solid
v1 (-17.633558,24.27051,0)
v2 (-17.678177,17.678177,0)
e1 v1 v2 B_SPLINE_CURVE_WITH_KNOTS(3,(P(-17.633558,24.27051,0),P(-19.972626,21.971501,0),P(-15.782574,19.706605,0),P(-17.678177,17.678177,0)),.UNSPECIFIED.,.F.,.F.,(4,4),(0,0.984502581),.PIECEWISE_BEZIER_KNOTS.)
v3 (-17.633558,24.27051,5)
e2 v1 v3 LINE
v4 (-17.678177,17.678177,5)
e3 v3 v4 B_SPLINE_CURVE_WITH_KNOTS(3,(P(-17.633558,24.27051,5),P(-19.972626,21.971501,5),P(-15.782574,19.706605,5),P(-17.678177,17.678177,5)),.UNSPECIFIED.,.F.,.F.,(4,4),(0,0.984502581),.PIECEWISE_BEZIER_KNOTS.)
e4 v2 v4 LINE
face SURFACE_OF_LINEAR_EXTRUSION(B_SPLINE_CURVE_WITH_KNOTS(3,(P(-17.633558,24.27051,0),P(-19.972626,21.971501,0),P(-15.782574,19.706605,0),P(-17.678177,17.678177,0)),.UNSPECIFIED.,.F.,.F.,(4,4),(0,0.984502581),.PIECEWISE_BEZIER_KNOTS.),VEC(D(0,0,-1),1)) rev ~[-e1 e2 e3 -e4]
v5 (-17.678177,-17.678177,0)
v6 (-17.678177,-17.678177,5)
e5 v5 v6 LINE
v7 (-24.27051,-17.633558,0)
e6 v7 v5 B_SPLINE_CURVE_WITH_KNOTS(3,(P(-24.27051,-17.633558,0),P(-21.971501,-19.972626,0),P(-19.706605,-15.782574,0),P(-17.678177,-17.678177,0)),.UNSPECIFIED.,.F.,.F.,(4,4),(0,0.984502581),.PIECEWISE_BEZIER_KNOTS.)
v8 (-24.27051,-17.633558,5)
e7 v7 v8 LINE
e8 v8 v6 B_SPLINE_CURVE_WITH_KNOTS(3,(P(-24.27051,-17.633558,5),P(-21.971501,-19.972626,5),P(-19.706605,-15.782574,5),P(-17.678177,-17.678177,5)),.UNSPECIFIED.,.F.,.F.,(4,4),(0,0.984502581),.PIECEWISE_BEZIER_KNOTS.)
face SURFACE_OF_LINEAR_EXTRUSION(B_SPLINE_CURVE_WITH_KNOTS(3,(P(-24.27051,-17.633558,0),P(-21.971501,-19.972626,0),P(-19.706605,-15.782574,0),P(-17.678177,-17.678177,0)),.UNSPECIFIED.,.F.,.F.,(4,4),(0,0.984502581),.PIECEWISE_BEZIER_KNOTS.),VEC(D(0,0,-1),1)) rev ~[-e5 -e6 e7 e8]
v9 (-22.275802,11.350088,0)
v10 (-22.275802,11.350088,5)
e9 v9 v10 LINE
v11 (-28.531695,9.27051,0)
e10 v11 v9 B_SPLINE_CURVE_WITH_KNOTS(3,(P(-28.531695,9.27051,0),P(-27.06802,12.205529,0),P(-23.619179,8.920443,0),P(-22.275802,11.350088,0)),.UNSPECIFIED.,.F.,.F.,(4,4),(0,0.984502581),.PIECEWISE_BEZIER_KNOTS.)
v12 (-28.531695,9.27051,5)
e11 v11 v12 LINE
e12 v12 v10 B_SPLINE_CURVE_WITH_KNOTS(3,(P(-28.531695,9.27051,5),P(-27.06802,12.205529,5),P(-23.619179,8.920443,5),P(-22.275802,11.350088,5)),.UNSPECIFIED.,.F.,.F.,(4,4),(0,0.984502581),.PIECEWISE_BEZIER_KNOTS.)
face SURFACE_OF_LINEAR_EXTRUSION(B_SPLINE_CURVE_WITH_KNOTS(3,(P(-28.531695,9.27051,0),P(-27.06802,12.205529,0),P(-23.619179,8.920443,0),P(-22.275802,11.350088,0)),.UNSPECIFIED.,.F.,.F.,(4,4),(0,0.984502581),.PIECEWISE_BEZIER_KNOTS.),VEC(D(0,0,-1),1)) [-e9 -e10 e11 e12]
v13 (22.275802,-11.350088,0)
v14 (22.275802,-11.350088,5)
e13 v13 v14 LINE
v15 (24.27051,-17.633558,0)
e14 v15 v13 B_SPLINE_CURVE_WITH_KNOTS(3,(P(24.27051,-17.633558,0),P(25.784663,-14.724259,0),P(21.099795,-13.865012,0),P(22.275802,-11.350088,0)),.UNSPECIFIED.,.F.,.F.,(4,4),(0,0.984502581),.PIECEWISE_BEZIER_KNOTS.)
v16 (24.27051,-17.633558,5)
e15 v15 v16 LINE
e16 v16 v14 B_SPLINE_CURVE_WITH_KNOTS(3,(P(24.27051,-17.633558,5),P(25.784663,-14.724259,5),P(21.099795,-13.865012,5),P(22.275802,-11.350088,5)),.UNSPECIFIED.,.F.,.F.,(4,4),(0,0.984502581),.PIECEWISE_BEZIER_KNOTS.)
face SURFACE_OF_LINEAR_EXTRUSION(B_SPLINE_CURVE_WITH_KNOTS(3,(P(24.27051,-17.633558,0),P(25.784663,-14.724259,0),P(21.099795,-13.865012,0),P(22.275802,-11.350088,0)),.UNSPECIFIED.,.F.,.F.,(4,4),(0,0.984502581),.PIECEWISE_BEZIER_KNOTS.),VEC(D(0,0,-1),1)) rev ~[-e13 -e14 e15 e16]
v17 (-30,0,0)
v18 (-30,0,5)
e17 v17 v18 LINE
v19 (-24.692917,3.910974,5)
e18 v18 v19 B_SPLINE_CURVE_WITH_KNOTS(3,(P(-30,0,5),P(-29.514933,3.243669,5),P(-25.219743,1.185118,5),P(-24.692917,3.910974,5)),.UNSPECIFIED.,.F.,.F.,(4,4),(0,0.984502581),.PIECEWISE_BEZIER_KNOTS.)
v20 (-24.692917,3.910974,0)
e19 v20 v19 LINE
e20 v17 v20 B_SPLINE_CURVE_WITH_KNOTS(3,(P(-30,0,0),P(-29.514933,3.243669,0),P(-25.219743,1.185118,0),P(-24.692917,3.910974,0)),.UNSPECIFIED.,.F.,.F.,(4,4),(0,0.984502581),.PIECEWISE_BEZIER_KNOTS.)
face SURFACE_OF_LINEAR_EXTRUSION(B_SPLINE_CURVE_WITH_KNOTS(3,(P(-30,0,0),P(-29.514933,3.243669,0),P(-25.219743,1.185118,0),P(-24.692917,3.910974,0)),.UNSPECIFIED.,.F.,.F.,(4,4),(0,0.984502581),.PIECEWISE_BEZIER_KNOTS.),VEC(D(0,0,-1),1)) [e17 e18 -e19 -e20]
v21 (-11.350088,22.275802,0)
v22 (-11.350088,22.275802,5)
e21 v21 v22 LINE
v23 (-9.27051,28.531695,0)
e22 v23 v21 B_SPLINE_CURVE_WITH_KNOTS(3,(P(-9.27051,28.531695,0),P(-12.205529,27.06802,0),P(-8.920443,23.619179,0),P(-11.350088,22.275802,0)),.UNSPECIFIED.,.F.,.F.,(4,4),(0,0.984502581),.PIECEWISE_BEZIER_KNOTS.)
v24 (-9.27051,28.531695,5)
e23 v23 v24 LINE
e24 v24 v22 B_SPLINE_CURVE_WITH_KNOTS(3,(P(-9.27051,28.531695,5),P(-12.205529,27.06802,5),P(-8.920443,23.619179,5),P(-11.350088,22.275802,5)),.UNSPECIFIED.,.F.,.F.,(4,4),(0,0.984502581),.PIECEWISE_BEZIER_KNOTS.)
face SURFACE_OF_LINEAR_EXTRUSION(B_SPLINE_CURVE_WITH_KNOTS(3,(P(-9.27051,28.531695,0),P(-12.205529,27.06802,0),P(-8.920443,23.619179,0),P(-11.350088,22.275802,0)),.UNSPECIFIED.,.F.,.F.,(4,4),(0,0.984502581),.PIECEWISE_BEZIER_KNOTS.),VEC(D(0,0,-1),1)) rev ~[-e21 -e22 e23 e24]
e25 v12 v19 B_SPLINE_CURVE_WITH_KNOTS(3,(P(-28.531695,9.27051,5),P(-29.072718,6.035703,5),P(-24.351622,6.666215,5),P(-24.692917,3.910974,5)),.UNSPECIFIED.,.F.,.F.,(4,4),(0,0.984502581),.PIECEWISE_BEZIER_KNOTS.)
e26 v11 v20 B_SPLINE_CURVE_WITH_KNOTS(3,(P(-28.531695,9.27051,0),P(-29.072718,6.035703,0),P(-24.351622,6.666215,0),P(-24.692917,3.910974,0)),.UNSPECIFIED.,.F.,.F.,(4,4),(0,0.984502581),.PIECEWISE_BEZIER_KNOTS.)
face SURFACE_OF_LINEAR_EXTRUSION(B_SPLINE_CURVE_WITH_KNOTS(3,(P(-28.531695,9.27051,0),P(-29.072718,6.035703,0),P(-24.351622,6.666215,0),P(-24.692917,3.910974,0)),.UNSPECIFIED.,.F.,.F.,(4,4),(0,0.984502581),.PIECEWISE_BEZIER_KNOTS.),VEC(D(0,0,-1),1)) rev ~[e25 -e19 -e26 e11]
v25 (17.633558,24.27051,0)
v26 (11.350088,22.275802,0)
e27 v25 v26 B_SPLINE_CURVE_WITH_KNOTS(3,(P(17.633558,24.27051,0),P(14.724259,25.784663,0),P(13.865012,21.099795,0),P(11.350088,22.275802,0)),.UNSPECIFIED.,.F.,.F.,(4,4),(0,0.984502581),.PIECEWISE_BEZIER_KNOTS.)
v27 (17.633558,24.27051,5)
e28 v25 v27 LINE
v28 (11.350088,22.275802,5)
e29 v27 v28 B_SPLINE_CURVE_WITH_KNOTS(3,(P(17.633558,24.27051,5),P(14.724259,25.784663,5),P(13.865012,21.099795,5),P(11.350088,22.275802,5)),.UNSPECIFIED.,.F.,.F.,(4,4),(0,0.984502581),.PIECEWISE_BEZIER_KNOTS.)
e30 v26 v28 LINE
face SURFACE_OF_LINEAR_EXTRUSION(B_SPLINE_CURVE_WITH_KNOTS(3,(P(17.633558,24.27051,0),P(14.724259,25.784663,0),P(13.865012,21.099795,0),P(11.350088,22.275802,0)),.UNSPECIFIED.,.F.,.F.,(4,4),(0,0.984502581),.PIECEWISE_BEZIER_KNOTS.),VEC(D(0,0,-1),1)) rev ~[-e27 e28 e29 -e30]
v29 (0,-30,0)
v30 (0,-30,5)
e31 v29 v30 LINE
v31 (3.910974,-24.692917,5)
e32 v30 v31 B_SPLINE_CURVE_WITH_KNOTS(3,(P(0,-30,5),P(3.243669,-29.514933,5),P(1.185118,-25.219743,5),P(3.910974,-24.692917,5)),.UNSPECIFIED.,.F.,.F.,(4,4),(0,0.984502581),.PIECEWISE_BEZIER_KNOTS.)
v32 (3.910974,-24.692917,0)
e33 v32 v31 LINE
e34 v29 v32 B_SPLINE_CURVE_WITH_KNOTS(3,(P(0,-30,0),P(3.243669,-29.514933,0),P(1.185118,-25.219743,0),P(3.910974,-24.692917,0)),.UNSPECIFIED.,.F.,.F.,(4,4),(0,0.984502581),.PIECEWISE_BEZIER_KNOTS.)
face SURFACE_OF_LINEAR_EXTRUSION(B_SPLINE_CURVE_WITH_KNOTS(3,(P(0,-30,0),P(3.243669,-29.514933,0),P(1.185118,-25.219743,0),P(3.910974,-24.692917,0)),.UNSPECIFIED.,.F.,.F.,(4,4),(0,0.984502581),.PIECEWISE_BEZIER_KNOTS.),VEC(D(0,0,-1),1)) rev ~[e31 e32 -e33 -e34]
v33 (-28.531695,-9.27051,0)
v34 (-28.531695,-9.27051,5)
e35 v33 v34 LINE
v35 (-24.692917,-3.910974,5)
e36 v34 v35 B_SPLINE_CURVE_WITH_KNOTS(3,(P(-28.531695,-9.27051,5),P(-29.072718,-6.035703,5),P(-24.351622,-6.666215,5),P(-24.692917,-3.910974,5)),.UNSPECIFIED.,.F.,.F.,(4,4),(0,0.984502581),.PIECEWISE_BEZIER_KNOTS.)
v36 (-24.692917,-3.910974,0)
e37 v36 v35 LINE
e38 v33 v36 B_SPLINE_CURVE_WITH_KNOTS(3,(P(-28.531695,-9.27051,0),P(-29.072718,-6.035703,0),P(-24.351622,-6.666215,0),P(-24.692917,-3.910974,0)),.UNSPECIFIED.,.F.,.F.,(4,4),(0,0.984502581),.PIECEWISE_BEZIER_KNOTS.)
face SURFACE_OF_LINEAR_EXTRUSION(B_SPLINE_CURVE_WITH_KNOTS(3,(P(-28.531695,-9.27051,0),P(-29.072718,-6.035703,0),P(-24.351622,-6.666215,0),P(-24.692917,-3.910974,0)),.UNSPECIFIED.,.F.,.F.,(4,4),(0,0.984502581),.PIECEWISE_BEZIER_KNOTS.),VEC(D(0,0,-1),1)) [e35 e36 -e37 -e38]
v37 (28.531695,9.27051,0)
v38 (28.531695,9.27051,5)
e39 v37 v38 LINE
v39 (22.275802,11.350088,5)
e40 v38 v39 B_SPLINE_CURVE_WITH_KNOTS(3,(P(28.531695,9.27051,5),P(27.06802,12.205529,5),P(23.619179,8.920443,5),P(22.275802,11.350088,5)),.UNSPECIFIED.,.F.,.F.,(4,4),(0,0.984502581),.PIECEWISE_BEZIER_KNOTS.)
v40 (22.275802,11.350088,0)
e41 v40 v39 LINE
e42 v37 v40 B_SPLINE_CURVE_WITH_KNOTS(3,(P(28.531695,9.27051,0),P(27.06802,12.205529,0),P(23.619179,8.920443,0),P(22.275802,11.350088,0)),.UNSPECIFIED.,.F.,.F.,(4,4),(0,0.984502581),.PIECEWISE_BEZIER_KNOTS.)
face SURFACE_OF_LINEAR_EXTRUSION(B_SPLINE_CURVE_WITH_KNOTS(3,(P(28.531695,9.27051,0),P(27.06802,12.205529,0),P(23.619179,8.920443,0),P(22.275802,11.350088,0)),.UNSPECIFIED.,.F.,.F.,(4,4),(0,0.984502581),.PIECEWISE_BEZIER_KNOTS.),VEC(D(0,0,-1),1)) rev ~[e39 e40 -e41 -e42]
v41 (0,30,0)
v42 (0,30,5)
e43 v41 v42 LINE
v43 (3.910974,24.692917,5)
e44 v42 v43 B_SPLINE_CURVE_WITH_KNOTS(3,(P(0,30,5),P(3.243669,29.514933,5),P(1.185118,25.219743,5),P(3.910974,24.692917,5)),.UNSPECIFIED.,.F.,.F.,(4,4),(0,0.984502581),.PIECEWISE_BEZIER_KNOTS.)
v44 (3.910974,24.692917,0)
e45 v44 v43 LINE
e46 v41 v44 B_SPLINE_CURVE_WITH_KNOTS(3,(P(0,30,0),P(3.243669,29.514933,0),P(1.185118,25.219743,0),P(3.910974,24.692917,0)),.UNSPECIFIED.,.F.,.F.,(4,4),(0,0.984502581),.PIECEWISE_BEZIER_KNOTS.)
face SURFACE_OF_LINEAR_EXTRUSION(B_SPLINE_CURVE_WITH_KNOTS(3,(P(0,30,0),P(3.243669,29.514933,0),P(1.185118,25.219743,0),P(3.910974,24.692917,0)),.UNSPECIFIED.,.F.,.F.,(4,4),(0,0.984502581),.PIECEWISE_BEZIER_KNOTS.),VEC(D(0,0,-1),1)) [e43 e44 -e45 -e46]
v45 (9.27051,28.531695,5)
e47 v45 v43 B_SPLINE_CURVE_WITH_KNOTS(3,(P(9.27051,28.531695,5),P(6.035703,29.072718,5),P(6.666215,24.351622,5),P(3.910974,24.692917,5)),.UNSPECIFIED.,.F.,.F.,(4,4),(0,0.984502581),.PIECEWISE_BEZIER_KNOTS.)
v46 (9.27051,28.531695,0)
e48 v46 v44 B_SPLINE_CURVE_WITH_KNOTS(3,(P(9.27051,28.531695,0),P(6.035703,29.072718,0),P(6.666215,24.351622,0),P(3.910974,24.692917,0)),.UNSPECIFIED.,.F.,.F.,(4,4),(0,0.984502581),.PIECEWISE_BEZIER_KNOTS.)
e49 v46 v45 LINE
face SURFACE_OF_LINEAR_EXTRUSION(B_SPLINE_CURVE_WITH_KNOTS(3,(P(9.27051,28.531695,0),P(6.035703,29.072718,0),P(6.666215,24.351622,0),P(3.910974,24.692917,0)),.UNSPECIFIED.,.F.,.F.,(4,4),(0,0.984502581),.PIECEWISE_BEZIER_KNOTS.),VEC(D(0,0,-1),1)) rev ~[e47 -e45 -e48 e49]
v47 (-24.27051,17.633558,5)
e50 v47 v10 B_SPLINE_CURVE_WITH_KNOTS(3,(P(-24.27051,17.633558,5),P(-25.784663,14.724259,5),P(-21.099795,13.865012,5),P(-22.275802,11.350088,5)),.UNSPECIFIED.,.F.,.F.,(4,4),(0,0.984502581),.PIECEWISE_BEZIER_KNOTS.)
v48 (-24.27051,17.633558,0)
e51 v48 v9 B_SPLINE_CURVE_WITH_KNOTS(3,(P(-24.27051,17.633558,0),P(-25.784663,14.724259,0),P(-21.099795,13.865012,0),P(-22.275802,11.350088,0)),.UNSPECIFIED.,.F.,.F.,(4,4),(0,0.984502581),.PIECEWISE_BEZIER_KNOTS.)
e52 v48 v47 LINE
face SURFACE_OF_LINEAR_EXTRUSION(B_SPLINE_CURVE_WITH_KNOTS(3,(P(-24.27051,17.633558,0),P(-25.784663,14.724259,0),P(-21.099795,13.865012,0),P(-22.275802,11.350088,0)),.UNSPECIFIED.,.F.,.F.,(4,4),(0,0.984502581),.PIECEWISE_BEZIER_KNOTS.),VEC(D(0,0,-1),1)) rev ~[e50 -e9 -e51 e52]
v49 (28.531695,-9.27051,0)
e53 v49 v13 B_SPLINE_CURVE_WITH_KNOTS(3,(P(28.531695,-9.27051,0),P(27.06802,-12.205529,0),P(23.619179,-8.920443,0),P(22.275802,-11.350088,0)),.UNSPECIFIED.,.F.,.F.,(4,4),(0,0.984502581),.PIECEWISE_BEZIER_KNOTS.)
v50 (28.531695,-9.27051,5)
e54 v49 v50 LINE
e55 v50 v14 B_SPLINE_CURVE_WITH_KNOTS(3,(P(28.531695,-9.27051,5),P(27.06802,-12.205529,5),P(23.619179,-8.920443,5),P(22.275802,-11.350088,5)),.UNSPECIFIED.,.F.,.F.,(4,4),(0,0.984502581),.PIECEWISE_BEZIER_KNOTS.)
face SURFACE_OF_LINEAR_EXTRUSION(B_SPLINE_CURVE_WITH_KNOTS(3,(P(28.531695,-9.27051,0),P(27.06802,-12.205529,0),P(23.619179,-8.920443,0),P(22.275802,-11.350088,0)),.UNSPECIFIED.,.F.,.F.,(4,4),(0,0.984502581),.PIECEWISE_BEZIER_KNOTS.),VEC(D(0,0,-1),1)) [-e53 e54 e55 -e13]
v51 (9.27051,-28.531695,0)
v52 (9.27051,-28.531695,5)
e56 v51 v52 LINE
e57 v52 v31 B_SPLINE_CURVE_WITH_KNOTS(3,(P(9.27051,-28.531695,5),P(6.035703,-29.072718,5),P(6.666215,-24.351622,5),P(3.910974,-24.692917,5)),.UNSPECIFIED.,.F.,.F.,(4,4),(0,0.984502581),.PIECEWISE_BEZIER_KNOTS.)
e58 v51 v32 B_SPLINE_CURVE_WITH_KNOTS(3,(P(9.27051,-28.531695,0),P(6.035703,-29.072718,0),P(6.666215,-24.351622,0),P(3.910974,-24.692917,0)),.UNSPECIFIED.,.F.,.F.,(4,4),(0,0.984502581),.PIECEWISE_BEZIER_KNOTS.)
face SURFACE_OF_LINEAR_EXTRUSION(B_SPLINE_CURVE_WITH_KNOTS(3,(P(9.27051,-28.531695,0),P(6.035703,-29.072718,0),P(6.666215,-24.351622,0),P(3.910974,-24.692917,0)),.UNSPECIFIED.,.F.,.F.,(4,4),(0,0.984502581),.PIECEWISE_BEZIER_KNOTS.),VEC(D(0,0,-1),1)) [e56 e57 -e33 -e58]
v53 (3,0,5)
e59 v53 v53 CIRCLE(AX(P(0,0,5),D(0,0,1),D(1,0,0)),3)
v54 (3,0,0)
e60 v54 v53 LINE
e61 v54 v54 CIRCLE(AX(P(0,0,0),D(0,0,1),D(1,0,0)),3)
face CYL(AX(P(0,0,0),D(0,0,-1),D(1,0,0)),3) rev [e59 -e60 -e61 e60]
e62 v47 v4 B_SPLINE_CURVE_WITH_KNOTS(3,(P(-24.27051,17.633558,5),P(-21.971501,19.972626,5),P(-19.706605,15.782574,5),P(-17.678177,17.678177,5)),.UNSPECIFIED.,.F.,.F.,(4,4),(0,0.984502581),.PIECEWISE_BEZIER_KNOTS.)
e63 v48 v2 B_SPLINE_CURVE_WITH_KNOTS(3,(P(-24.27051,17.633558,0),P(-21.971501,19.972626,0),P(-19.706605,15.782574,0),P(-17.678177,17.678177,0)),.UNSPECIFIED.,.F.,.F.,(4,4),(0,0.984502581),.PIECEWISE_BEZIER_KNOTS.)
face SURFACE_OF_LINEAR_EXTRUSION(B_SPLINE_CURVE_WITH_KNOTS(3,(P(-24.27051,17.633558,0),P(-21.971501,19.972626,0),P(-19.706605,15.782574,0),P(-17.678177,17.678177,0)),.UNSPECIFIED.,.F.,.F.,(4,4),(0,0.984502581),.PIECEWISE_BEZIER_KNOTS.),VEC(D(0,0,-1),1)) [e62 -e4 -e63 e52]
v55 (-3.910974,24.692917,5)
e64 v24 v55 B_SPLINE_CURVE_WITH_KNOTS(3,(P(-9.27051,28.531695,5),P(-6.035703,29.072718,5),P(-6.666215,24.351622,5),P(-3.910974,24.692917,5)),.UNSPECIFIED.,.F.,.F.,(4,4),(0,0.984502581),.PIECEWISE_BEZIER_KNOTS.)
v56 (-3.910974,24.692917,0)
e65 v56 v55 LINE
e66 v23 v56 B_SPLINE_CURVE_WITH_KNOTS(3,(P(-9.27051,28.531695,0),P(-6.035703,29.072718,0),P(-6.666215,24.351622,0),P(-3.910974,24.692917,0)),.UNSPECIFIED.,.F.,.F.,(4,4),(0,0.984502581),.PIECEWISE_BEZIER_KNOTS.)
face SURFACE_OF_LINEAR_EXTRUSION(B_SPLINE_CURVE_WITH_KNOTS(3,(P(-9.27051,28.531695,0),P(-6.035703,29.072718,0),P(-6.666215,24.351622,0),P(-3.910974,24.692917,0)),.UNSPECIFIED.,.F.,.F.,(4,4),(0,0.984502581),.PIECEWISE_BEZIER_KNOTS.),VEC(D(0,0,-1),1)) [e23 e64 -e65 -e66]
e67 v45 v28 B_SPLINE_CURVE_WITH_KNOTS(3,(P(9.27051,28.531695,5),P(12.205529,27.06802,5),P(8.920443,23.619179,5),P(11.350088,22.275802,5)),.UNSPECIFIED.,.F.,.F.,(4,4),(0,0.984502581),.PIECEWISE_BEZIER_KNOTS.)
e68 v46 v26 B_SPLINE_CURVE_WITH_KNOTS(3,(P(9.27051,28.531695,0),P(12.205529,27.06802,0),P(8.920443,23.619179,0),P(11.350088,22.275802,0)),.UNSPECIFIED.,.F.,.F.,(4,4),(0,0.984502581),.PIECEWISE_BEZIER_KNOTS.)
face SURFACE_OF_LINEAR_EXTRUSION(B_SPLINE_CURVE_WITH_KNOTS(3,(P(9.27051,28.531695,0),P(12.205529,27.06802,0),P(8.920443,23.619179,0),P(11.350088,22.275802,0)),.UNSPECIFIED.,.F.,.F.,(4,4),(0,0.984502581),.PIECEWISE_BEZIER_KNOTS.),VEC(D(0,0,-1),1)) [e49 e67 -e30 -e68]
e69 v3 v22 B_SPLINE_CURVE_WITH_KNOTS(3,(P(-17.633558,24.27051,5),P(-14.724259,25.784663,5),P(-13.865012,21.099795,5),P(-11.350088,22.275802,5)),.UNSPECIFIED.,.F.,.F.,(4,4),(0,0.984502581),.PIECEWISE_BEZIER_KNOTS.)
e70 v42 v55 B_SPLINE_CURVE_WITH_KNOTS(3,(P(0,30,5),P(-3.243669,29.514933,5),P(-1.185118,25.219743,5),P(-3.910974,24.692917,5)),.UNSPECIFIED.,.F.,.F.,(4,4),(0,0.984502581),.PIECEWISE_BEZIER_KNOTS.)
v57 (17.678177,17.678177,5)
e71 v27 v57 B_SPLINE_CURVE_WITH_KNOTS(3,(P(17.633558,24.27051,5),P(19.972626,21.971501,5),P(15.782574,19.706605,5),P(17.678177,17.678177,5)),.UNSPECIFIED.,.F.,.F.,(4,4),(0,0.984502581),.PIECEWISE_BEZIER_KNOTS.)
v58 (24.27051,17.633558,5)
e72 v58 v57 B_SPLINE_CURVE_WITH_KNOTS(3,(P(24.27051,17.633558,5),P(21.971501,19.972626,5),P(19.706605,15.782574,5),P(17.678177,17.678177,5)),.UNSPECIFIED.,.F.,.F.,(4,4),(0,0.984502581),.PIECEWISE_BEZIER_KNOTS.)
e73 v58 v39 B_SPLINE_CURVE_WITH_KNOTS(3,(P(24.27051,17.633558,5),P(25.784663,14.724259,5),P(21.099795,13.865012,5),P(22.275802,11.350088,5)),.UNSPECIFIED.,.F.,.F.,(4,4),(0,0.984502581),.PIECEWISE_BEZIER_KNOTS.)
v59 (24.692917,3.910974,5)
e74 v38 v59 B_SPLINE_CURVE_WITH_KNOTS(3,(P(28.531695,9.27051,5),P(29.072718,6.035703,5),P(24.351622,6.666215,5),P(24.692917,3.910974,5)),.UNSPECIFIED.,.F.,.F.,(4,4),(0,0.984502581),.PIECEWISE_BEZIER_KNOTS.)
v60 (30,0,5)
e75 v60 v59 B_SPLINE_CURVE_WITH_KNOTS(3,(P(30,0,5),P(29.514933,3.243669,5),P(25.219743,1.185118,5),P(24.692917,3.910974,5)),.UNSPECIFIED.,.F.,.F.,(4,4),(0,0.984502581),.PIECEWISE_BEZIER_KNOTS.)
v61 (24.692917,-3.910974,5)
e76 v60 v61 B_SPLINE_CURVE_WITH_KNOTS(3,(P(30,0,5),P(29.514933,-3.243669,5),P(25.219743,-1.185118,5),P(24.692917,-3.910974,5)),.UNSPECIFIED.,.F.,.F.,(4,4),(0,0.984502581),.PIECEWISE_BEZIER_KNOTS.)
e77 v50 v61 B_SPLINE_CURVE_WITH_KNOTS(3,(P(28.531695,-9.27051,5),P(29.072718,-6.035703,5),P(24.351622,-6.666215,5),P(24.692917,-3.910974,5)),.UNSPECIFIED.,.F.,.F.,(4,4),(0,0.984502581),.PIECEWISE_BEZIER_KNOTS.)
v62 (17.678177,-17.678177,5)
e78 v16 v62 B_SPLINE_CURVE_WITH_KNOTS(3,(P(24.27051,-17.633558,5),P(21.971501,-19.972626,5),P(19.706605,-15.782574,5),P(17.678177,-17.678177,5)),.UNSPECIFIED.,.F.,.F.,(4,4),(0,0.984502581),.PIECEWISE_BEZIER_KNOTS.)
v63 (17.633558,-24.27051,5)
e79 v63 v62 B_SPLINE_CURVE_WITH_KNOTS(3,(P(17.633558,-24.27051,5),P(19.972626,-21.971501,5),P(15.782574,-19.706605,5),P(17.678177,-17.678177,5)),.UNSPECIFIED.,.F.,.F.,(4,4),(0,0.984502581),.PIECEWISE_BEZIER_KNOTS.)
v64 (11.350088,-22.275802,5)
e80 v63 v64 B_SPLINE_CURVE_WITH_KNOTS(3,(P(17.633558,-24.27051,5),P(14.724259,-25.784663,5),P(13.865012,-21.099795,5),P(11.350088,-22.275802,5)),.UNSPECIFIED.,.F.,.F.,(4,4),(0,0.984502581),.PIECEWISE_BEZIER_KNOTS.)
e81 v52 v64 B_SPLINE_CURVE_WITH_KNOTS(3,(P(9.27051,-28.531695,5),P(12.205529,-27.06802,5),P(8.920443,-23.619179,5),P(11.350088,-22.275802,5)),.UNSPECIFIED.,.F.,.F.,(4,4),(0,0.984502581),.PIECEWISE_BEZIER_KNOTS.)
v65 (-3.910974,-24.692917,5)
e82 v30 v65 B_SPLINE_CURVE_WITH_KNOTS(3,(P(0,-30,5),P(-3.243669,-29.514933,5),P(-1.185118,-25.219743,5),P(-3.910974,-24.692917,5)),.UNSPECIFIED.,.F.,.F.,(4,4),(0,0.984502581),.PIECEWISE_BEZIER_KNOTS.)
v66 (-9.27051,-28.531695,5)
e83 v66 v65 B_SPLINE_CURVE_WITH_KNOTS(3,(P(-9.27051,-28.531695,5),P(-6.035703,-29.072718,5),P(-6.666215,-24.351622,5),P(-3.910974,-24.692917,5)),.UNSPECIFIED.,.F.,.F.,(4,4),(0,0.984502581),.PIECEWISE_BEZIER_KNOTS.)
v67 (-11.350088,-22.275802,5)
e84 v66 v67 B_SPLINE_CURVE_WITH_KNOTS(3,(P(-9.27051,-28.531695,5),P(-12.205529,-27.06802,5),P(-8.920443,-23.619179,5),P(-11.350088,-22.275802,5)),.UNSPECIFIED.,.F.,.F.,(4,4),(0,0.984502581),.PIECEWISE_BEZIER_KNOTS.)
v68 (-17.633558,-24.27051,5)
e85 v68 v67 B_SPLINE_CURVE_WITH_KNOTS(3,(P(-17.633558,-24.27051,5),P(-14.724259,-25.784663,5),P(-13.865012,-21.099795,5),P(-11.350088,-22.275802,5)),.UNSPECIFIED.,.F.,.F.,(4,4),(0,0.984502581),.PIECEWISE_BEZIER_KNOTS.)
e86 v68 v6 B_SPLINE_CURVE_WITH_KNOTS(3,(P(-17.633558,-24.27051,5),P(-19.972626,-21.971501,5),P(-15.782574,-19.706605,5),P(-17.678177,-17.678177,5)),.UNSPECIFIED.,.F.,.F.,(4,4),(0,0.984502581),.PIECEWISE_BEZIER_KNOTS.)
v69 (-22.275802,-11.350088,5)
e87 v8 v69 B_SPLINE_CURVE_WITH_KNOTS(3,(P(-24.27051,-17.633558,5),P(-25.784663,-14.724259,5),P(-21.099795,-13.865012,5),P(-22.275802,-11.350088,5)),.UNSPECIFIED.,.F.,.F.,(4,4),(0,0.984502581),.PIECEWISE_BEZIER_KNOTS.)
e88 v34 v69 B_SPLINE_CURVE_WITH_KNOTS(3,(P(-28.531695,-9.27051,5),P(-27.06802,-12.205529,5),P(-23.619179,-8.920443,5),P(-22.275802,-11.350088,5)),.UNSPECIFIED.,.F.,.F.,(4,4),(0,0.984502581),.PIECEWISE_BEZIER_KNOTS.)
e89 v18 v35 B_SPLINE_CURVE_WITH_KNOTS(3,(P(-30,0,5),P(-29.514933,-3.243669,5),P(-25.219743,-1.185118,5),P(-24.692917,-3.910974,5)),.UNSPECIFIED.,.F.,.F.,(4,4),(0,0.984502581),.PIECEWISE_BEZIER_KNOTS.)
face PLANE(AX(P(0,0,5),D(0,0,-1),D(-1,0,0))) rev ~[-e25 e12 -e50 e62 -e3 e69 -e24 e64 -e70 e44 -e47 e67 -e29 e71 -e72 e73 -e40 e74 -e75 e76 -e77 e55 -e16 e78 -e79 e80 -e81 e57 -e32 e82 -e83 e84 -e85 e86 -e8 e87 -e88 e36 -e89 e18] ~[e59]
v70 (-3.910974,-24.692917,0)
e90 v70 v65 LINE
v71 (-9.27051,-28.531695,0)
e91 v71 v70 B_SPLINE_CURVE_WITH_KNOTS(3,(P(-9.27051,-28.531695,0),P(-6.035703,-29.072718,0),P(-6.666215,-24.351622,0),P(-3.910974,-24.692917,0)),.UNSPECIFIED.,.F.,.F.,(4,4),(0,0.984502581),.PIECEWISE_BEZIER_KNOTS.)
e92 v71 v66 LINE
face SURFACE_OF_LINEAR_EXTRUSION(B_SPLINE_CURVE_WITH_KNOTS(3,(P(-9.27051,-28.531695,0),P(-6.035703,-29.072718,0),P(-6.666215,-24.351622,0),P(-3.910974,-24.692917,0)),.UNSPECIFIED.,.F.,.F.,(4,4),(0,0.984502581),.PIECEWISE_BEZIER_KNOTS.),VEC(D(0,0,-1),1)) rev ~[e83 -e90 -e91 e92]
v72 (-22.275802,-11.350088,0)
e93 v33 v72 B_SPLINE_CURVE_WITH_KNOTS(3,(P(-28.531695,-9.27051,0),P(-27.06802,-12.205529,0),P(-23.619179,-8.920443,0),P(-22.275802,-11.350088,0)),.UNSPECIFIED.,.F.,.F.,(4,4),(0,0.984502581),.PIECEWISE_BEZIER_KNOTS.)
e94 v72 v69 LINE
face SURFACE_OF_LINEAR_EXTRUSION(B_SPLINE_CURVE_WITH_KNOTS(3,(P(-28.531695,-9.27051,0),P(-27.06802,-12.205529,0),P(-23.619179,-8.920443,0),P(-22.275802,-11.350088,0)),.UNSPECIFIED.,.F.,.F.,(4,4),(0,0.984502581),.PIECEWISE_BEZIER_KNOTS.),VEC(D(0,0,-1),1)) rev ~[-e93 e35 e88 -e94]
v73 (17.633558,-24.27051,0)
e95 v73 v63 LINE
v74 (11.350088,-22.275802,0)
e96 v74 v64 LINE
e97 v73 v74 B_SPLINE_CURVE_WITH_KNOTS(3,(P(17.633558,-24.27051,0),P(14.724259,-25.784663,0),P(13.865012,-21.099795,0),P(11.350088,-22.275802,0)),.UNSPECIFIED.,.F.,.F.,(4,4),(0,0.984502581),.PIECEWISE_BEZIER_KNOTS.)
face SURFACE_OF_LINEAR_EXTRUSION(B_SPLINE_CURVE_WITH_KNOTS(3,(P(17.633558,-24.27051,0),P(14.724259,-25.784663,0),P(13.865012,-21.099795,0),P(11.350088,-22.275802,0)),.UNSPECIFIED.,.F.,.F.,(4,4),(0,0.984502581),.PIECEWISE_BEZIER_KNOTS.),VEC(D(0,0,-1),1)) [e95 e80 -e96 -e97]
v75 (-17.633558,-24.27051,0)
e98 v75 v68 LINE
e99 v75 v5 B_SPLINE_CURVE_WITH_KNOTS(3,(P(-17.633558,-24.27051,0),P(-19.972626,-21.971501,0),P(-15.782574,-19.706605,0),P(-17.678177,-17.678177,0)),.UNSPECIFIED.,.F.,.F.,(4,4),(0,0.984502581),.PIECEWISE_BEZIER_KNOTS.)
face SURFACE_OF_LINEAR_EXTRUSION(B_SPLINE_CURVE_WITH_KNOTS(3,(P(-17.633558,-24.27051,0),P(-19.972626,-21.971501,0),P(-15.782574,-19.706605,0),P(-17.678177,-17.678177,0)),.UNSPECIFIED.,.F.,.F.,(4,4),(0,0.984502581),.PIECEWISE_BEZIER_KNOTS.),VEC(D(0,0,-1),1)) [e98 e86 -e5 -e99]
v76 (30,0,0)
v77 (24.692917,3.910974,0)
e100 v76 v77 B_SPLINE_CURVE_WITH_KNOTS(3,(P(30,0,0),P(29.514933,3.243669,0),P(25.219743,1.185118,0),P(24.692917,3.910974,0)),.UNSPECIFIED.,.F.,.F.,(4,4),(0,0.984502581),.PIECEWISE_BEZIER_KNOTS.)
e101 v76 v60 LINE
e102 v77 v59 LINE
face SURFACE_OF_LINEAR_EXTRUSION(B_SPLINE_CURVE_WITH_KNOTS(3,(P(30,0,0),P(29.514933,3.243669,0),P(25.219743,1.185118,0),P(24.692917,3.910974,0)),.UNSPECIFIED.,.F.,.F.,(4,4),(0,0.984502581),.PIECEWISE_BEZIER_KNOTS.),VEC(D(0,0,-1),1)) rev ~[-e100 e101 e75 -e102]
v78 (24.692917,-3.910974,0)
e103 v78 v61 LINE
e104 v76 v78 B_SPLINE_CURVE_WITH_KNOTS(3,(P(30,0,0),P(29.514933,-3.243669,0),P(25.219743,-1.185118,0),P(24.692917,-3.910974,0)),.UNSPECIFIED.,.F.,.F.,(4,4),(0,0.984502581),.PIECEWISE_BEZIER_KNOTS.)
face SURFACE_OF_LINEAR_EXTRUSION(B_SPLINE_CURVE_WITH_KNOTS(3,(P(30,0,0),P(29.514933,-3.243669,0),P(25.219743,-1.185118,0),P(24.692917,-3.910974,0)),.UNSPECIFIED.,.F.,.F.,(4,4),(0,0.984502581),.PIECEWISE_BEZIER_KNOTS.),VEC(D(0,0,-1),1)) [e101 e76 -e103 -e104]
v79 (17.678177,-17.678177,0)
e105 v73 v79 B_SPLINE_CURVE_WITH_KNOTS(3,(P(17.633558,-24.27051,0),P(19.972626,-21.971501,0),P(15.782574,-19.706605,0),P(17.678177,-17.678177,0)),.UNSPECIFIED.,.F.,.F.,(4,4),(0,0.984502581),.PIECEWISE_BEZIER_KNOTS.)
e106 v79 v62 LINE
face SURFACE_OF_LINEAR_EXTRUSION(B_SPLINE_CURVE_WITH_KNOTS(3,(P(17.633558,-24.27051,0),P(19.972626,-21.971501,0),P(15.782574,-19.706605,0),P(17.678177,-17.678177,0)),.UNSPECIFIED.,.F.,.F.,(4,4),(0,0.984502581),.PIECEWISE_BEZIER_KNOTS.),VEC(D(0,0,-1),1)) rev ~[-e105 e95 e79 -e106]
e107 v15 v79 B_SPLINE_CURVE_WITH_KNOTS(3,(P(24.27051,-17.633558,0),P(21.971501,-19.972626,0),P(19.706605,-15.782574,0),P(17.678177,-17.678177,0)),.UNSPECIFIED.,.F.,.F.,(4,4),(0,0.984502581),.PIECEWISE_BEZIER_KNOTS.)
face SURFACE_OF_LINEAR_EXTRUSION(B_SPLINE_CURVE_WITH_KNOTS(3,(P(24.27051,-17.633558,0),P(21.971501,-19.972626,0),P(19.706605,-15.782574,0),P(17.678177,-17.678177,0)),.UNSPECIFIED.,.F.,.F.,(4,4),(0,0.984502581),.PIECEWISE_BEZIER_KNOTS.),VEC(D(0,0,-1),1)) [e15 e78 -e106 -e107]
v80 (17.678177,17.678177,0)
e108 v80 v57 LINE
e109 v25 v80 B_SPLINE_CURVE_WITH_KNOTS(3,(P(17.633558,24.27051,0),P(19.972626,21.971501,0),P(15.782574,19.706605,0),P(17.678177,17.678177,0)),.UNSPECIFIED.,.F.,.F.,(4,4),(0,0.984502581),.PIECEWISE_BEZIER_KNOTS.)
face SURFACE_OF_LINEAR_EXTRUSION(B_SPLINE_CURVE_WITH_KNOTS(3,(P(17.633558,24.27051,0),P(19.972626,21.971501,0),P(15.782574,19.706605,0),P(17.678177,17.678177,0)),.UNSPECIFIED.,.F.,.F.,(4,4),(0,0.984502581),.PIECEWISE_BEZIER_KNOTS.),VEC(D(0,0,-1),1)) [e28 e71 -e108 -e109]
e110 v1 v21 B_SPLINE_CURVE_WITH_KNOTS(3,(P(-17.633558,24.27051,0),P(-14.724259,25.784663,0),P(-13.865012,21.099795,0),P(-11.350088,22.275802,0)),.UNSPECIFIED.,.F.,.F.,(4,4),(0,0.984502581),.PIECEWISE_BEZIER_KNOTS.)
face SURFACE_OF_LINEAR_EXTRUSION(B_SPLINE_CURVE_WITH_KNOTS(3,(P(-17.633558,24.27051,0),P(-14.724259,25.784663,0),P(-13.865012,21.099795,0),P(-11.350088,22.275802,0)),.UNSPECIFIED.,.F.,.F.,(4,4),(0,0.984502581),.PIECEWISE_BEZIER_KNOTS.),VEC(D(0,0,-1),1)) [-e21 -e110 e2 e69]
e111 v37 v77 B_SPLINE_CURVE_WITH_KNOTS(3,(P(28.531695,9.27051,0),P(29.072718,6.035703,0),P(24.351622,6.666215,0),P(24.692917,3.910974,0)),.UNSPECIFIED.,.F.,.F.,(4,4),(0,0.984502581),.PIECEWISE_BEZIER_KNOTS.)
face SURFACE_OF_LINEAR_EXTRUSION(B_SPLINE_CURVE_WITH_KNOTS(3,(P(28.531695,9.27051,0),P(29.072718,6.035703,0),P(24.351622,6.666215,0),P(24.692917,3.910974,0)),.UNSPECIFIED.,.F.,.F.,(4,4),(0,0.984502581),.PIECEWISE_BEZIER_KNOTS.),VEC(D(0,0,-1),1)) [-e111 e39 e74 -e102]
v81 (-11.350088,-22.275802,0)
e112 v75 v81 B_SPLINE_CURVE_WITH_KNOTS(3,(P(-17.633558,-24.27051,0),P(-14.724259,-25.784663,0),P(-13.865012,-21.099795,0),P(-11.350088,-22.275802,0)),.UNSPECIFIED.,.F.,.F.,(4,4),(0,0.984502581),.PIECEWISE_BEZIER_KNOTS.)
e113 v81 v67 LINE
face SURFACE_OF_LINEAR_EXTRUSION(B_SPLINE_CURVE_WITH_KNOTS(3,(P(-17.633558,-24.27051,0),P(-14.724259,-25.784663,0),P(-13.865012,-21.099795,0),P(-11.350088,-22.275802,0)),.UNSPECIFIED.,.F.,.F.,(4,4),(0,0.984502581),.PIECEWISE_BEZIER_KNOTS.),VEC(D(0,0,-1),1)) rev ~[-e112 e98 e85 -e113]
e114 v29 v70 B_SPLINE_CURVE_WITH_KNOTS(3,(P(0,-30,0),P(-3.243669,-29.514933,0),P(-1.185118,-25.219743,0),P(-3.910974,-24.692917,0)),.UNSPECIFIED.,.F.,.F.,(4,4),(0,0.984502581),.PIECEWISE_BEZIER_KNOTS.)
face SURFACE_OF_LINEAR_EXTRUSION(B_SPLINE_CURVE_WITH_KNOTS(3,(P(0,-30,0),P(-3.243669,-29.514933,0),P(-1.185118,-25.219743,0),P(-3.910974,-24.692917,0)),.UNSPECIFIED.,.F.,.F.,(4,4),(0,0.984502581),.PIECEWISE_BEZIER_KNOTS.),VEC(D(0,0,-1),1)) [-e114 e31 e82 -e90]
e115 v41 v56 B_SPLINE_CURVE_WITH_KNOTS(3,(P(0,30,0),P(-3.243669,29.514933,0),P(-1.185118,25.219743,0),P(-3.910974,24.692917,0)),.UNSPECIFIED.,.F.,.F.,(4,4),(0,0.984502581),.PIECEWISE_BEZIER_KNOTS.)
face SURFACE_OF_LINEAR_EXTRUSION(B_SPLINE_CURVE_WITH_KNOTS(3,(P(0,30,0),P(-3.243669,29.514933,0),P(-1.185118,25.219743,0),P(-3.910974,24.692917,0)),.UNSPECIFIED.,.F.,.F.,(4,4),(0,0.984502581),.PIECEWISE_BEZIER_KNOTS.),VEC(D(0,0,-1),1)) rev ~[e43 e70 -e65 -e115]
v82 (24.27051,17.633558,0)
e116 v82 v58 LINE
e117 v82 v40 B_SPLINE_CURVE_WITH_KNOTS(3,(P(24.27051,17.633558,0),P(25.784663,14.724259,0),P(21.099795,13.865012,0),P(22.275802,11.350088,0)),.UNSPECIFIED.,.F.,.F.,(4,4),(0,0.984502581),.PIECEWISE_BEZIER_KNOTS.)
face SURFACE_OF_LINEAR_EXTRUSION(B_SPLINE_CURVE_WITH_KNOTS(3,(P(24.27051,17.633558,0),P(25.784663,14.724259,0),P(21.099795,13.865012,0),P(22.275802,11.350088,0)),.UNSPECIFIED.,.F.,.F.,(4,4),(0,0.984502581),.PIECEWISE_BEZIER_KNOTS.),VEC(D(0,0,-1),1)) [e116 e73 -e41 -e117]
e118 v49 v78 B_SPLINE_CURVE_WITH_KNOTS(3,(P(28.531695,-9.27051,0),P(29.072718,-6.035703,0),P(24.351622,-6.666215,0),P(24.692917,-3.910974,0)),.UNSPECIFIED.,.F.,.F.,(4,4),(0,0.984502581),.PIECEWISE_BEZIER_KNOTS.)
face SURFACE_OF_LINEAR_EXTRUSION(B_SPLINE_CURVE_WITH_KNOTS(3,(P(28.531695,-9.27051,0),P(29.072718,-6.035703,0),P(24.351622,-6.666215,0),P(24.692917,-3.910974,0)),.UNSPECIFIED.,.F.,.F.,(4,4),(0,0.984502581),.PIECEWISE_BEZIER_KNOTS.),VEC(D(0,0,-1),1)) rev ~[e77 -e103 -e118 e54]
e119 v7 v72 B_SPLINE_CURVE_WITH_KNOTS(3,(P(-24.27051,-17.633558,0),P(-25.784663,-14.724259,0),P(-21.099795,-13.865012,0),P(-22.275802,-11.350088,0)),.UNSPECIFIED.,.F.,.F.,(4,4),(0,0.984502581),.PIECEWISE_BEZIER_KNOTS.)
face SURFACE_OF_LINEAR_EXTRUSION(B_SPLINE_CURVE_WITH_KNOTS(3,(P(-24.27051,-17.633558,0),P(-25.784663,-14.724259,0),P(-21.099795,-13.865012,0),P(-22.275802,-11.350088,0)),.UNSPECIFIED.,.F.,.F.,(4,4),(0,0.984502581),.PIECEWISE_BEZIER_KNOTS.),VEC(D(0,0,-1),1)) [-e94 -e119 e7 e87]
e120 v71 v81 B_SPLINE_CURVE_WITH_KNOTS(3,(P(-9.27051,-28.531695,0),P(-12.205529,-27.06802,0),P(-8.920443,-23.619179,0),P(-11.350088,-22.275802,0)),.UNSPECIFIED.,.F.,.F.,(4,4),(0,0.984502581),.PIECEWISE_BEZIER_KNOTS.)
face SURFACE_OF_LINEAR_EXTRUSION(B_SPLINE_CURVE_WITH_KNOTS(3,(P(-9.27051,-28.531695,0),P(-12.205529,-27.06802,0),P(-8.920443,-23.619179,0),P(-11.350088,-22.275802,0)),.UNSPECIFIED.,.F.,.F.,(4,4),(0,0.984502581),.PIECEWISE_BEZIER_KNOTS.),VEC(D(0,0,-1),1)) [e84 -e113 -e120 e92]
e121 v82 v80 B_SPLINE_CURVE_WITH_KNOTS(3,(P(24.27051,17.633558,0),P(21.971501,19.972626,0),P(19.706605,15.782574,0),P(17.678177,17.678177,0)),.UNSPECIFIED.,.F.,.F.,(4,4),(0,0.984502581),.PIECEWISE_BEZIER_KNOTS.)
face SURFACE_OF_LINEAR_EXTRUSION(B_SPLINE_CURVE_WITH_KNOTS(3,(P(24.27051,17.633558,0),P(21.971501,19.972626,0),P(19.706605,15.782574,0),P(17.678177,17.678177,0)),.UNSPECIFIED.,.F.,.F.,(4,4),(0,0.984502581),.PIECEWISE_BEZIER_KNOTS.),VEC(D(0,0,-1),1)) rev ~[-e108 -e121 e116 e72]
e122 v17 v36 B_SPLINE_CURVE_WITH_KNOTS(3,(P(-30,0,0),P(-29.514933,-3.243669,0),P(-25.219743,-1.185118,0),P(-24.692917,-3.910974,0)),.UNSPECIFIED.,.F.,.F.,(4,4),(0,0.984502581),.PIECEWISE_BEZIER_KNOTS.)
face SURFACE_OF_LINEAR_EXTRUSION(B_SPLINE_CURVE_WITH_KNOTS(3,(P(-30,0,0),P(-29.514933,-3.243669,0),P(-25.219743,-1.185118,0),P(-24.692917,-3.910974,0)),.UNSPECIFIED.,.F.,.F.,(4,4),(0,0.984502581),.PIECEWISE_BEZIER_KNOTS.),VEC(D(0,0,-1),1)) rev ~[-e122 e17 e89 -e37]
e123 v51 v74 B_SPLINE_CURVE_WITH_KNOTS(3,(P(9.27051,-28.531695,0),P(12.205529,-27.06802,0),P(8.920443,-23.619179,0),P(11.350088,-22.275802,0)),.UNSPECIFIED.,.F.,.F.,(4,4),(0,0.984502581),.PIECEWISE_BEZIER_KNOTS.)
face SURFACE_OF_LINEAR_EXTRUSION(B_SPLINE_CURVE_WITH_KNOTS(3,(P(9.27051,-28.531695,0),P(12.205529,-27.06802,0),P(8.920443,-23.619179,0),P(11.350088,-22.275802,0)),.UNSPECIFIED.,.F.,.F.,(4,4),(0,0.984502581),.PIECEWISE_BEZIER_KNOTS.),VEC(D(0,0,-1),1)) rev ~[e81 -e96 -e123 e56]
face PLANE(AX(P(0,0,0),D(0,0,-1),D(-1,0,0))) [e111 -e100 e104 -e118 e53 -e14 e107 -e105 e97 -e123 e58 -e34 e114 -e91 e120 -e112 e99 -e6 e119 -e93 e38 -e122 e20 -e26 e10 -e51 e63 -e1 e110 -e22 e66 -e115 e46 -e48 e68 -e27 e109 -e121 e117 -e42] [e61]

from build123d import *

# Parameters (mm, degrees)
SKETCH1_R           = 3
BOSS_EXTRUDE1_DEPTH = 5


with BuildPart() as part:
    # Sketch1 → Boss-Extrude1 (new body)
    with BuildSketch(Plane.XY):
        with BuildLine():
            add(Edge.make_bspline(
                [(0, 30), (3.243669136, 29.514932873), (1.18511812, 25.21974269), (3.910973785, 24.69291666)],
                knots=[0, 0, 0, 0, 0.984502581, 0.984502581, 0.984502581, 0.984502581], degree=3))
            add(Edge.make_bspline(
                [(0, 30), (-3.243669136, 29.514932873), (-1.18511812, 25.21974269), (-3.910973785, 24.69291666)],
                knots=[0, 0, 0, 0, 0.984502581, 0.984502581, 0.984502581, 0.984502581], degree=3))
            add(Edge.make_bspline(
                [(-9.270509831, 28.531695489), (-6.035703177, 29.072718124), (-6.666214775, 24.351622264), (-3.910973785, 24.69291666)],
                knots=[0, 0, 0, 0, 0.984502581, 0.984502581, 0.984502581, 0.984502581], degree=3))
            add(Edge.make_bspline(
                [(-9.270509831, 28.531695489), (-12.205528514, 27.06802035), (-8.920443395, 23.619178985), (-11.350087992, 22.275801932)],
                knots=[0, 0, 0, 0, 0.984502581, 0.984502581, 0.984502581, 0.984502581], degree=3))
            add(Edge.make_bspline(
                [(-17.633557569, 24.270509831), (-14.72425881, 25.784663164), (-13.865012121, 21.099795383), (-11.350087992, 22.275801932)],
                knots=[0, 0, 0, 0, 0.984502581, 0.984502581, 0.984502581, 0.984502581], degree=3))
            add(Edge.make_bspline(
                [(-17.633557569, 24.270509831), (-19.972625721, 21.971501401), (-15.782573519, 19.706605477), (-17.678176506, 17.678176506)],
                knots=[0, 0, 0, 0, 0.984502581, 0.984502581, 0.984502581, 0.984502581], degree=3))
            add(Edge.make_bspline(
                [(-24.270509831, 17.633557569), (-21.971501401, 19.972625721), (-19.706605477, 15.782573519), (-17.678176506, 17.678176506)],
                knots=[0, 0, 0, 0, 0.984502581, 0.984502581, 0.984502581, 0.984502581], degree=3))
            add(Edge.make_bspline(
                [(-24.270509831, 17.633557569), (-25.784663164, 14.72425881), (-21.099795383, 13.865012121), (-22.275801932, 11.350087992)],
                knots=[0, 0, 0, 0, 0.984502581, 0.984502581, 0.984502581, 0.984502581], degree=3))
            add(Edge.make_bspline(
                [(-28.531695489, 9.270509831), (-27.06802035, 12.205528514), (-23.619178985, 8.920443395), (-22.275801932, 11.350087992)],
                knots=[0, 0, 0, 0, 0.984502581, 0.984502581, 0.984502581, 0.984502581], degree=3))
            add(Edge.make_bspline(
                [(-28.531695489, 9.270509831), (-29.072718124, 6.035703177), (-24.351622264, 6.666214775), (-24.69291666, 3.910973785)],
                knots=[0, 0, 0, 0, 0.984502581, 0.984502581, 0.984502581, 0.984502581], degree=3))
            add(Edge.make_bspline(
                [(-30, 0), (-29.514932873, 3.243669136), (-25.21974269, 1.18511812), (-24.69291666, 3.910973785)],
                knots=[0, 0, 0, 0, 0.984502581, 0.984502581, 0.984502581, 0.984502581], degree=3))
            add(Edge.make_bspline(
                [(-30, 0), (-29.514932873, -3.243669136), (-25.21974269, -1.18511812), (-24.69291666, -3.910973785)],
                knots=[0, 0, 0, 0, 0.984502581, 0.984502581, 0.984502581, 0.984502581], degree=3))
            add(Edge.make_bspline(
                [(-28.531695489, -9.270509831), (-29.072718124, -6.035703177), (-24.351622264, -6.666214775), (-24.69291666, -3.910973785)],
                knots=[0, 0, 0, 0, 0.984502581, 0.984502581, 0.984502581, 0.984502581], degree=3))
            add(Edge.make_bspline(
                [(-28.531695489, -9.270509831), (-27.06802035, -12.205528514), (-23.619178985, -8.920443395), (-22.275801932, -11.350087992)],
                knots=[0, 0, 0, 0, 0.984502581, 0.984502581, 0.984502581, 0.984502581], degree=3))
            add(Edge.make_bspline(
                [(-24.270509831, -17.633557569), (-25.784663164, -14.72425881), (-21.099795383, -13.865012121), (-22.275801932, -11.350087992)],
                knots=[0, 0, 0, 0, 0.984502581, 0.984502581, 0.984502581, 0.984502581], degree=3))
            add(Edge.make_bspline(
                [(-24.270509831, -17.633557569), (-21.971501401, -19.972625721), (-19.706605477, -15.782573519), (-17.678176506, -17.678176506)],
                knots=[0, 0, 0, 0, 0.984502581, 0.984502581, 0.984502581, 0.984502581], degree=3))
            add(Edge.make_bspline(
                [(-17.633557569, -24.270509831), (-19.972625721, -21.971501401), (-15.782573519, -19.706605477), (-17.678176506, -17.678176506)],
                knots=[0, 0, 0, 0, 0.984502581, 0.984502581, 0.984502581, 0.984502581], degree=3))
            add(Edge.make_bspline(
                [(-17.633557569, -24.270509831), (-14.72425881, -25.784663164), (-13.865012121, -21.099795383), (-11.350087992, -22.275801932)],
                knots=[0, 0, 0, 0, 0.984502581, 0.984502581, 0.984502581, 0.984502581], degree=3))
            add(Edge.make_bspline(
                [(-9.270509831, -28.531695489), (-12.205528514, -27.06802035), (-8.920443395, -23.619178985), (-11.350087992, -22.275801932)],
                knots=[0, 0, 0, 0, 0.984502581, 0.984502581, 0.984502581, 0.984502581], degree=3))
            add(Edge.make_bspline(
                [(-9.270509831, -28.531695489), (-6.035703177, -29.072718124), (-6.666214775, -24.351622264), (-3.910973785, -24.69291666)],
                knots=[0, 0, 0, 0, 0.984502581, 0.984502581, 0.984502581, 0.984502581], degree=3))
            add(Edge.make_bspline(
                [(0, -30), (-3.243669136, -29.514932873), (-1.18511812, -25.21974269), (-3.910973785, -24.69291666)],
                knots=[0, 0, 0, 0, 0.984502581, 0.984502581, 0.984502581, 0.984502581], degree=3))
            add(Edge.make_bspline(
                [(0, -30), (3.243669136, -29.514932873), (1.18511812, -25.21974269), (3.910973785, -24.69291666)],
                knots=[0, 0, 0, 0, 0.984502581, 0.984502581, 0.984502581, 0.984502581], degree=3))
            add(Edge.make_bspline(
                [(9.270509831, -28.531695489), (6.035703177, -29.072718124), (6.666214775, -24.351622264), (3.910973785, -24.69291666)],
                knots=[0, 0, 0, 0, 0.984502581, 0.984502581, 0.984502581, 0.984502581], degree=3))
            add(Edge.make_bspline(
                [(9.270509831, -28.531695489), (12.205528514, -27.06802035), (8.920443395, -23.619178985), (11.350087992, -22.275801932)],
                knots=[0, 0, 0, 0, 0.984502581, 0.984502581, 0.984502581, 0.984502581], degree=3))
            add(Edge.make_bspline(
                [(17.633557569, -24.270509831), (14.72425881, -25.784663164), (13.865012121, -21.099795383), (11.350087992, -22.275801932)],
                knots=[0, 0, 0, 0, 0.984502581, 0.984502581, 0.984502581, 0.984502581], degree=3))
            add(Edge.make_bspline(
                [(17.633557569, -24.270509831), (19.972625721, -21.971501401), (15.782573519, -19.706605477), (17.678176506, -17.678176506)],
                knots=[0, 0, 0, 0, 0.984502581, 0.984502581, 0.984502581, 0.984502581], degree=3))
            add(Edge.make_bspline(
                [(24.270509831, -17.633557569), (21.971501401, -19.972625721), (19.706605477, -15.782573519), (17.678176506, -17.678176506)],
                knots=[0, 0, 0, 0, 0.984502581, 0.984502581, 0.984502581, 0.984502581], degree=3))
            add(Edge.make_bspline(
                [(24.270509831, -17.633557569), (25.784663164, -14.72425881), (21.099795383, -13.865012121), (22.275801932, -11.350087992)],
                knots=[0, 0, 0, 0, 0.984502581, 0.984502581, 0.984502581, 0.984502581], degree=3))
            add(Edge.make_bspline(
                [(28.531695489, -9.270509831), (27.06802035, -12.205528514), (23.619178985, -8.920443395), (22.275801932, -11.350087992)],
                knots=[0, 0, 0, 0, 0.984502581, 0.984502581, 0.984502581, 0.984502581], degree=3))
            add(Edge.make_bspline(
                [(28.531695489, -9.270509831), (29.072718124, -6.035703177), (24.351622264, -6.666214775), (24.69291666, -3.910973785)],
                knots=[0, 0, 0, 0, 0.984502581, 0.984502581, 0.984502581, 0.984502581], degree=3))
            add(Edge.make_bspline(
                [(30, 0), (29.514932873, -3.243669136), (25.21974269, -1.18511812), (24.69291666, -3.910973785)],
                knots=[0, 0, 0, 0, 0.984502581, 0.984502581, 0.984502581, 0.984502581], degree=3))
            add(Edge.make_bspline(
                [(30, 0), (29.514932873, 3.243669136), (25.21974269, 1.18511812), (24.69291666, 3.910973785)],
                knots=[0, 0, 0, 0, 0.984502581, 0.984502581, 0.984502581, 0.984502581], degree=3))
            add(Edge.make_bspline(
                [(28.531695489, 9.270509831), (29.072718124, 6.035703177), (24.351622264, 6.666214775), (24.69291666, 3.910973785)],
                knots=[0, 0, 0, 0, 0.984502581, 0.984502581, 0.984502581, 0.984502581], degree=3))
            add(Edge.make_bspline(
                [(28.531695489, 9.270509831), (27.06802035, 12.205528514), (23.619178985, 8.920443395), (22.275801932, 11.350087992)],
                knots=[0, 0, 0, 0, 0.984502581, 0.984502581, 0.984502581, 0.984502581], degree=3))
            add(Edge.make_bspline(
                [(24.270509831, 17.633557569), (25.784663164, 14.72425881), (21.099795383, 13.865012121), (22.275801932, 11.350087992)],
                knots=[0, 0, 0, 0, 0.984502581, 0.984502581, 0.984502581, 0.984502581], degree=3))
            add(Edge.make_bspline(
                [(24.270509831, 17.633557569), (21.971501401, 19.972625721), (19.706605477, 15.782573519), (17.678176506, 17.678176506)],
                knots=[0, 0, 0, 0, 0.984502581, 0.984502581, 0.984502581, 0.984502581], degree=3))
            add(Edge.make_bspline(
                [(17.633557569, 24.270509831), (19.972625721, 21.971501401), (15.782573519, 19.706605477), (17.678176506, 17.678176506)],
                knots=[0, 0, 0, 0, 0.984502581, 0.984502581, 0.984502581, 0.984502581], degree=3))
            add(Edge.make_bspline(
                [(17.633557569, 24.270509831), (14.72425881, 25.784663164), (13.865012121, 21.099795383), (11.350087992, 22.275801932)],
                knots=[0, 0, 0, 0, 0.984502581, 0.984502581, 0.984502581, 0.984502581], degree=3))
            add(Edge.make_bspline(
                [(9.270509831, 28.531695489), (12.205528514, 27.06802035), (8.920443395, 23.619178985), (11.350087992, 22.275801932)],
                knots=[0, 0, 0, 0, 0.984502581, 0.984502581, 0.984502581, 0.984502581], degree=3))
            add(Edge.make_bspline(
                [(9.270509831, 28.531695489), (6.035703177, 29.072718124), (6.666214775, 24.351622264), (3.910973785, 24.69291666)],
                knots=[0, 0, 0, 0, 0.984502581, 0.984502581, 0.984502581, 0.984502581], degree=3))
        make_face()
        Circle(SKETCH1_R, mode=Mode.SUBTRACT)
    extrude(amount=BOSS_EXTRUDE1_DEPTH)


solid = part.part
